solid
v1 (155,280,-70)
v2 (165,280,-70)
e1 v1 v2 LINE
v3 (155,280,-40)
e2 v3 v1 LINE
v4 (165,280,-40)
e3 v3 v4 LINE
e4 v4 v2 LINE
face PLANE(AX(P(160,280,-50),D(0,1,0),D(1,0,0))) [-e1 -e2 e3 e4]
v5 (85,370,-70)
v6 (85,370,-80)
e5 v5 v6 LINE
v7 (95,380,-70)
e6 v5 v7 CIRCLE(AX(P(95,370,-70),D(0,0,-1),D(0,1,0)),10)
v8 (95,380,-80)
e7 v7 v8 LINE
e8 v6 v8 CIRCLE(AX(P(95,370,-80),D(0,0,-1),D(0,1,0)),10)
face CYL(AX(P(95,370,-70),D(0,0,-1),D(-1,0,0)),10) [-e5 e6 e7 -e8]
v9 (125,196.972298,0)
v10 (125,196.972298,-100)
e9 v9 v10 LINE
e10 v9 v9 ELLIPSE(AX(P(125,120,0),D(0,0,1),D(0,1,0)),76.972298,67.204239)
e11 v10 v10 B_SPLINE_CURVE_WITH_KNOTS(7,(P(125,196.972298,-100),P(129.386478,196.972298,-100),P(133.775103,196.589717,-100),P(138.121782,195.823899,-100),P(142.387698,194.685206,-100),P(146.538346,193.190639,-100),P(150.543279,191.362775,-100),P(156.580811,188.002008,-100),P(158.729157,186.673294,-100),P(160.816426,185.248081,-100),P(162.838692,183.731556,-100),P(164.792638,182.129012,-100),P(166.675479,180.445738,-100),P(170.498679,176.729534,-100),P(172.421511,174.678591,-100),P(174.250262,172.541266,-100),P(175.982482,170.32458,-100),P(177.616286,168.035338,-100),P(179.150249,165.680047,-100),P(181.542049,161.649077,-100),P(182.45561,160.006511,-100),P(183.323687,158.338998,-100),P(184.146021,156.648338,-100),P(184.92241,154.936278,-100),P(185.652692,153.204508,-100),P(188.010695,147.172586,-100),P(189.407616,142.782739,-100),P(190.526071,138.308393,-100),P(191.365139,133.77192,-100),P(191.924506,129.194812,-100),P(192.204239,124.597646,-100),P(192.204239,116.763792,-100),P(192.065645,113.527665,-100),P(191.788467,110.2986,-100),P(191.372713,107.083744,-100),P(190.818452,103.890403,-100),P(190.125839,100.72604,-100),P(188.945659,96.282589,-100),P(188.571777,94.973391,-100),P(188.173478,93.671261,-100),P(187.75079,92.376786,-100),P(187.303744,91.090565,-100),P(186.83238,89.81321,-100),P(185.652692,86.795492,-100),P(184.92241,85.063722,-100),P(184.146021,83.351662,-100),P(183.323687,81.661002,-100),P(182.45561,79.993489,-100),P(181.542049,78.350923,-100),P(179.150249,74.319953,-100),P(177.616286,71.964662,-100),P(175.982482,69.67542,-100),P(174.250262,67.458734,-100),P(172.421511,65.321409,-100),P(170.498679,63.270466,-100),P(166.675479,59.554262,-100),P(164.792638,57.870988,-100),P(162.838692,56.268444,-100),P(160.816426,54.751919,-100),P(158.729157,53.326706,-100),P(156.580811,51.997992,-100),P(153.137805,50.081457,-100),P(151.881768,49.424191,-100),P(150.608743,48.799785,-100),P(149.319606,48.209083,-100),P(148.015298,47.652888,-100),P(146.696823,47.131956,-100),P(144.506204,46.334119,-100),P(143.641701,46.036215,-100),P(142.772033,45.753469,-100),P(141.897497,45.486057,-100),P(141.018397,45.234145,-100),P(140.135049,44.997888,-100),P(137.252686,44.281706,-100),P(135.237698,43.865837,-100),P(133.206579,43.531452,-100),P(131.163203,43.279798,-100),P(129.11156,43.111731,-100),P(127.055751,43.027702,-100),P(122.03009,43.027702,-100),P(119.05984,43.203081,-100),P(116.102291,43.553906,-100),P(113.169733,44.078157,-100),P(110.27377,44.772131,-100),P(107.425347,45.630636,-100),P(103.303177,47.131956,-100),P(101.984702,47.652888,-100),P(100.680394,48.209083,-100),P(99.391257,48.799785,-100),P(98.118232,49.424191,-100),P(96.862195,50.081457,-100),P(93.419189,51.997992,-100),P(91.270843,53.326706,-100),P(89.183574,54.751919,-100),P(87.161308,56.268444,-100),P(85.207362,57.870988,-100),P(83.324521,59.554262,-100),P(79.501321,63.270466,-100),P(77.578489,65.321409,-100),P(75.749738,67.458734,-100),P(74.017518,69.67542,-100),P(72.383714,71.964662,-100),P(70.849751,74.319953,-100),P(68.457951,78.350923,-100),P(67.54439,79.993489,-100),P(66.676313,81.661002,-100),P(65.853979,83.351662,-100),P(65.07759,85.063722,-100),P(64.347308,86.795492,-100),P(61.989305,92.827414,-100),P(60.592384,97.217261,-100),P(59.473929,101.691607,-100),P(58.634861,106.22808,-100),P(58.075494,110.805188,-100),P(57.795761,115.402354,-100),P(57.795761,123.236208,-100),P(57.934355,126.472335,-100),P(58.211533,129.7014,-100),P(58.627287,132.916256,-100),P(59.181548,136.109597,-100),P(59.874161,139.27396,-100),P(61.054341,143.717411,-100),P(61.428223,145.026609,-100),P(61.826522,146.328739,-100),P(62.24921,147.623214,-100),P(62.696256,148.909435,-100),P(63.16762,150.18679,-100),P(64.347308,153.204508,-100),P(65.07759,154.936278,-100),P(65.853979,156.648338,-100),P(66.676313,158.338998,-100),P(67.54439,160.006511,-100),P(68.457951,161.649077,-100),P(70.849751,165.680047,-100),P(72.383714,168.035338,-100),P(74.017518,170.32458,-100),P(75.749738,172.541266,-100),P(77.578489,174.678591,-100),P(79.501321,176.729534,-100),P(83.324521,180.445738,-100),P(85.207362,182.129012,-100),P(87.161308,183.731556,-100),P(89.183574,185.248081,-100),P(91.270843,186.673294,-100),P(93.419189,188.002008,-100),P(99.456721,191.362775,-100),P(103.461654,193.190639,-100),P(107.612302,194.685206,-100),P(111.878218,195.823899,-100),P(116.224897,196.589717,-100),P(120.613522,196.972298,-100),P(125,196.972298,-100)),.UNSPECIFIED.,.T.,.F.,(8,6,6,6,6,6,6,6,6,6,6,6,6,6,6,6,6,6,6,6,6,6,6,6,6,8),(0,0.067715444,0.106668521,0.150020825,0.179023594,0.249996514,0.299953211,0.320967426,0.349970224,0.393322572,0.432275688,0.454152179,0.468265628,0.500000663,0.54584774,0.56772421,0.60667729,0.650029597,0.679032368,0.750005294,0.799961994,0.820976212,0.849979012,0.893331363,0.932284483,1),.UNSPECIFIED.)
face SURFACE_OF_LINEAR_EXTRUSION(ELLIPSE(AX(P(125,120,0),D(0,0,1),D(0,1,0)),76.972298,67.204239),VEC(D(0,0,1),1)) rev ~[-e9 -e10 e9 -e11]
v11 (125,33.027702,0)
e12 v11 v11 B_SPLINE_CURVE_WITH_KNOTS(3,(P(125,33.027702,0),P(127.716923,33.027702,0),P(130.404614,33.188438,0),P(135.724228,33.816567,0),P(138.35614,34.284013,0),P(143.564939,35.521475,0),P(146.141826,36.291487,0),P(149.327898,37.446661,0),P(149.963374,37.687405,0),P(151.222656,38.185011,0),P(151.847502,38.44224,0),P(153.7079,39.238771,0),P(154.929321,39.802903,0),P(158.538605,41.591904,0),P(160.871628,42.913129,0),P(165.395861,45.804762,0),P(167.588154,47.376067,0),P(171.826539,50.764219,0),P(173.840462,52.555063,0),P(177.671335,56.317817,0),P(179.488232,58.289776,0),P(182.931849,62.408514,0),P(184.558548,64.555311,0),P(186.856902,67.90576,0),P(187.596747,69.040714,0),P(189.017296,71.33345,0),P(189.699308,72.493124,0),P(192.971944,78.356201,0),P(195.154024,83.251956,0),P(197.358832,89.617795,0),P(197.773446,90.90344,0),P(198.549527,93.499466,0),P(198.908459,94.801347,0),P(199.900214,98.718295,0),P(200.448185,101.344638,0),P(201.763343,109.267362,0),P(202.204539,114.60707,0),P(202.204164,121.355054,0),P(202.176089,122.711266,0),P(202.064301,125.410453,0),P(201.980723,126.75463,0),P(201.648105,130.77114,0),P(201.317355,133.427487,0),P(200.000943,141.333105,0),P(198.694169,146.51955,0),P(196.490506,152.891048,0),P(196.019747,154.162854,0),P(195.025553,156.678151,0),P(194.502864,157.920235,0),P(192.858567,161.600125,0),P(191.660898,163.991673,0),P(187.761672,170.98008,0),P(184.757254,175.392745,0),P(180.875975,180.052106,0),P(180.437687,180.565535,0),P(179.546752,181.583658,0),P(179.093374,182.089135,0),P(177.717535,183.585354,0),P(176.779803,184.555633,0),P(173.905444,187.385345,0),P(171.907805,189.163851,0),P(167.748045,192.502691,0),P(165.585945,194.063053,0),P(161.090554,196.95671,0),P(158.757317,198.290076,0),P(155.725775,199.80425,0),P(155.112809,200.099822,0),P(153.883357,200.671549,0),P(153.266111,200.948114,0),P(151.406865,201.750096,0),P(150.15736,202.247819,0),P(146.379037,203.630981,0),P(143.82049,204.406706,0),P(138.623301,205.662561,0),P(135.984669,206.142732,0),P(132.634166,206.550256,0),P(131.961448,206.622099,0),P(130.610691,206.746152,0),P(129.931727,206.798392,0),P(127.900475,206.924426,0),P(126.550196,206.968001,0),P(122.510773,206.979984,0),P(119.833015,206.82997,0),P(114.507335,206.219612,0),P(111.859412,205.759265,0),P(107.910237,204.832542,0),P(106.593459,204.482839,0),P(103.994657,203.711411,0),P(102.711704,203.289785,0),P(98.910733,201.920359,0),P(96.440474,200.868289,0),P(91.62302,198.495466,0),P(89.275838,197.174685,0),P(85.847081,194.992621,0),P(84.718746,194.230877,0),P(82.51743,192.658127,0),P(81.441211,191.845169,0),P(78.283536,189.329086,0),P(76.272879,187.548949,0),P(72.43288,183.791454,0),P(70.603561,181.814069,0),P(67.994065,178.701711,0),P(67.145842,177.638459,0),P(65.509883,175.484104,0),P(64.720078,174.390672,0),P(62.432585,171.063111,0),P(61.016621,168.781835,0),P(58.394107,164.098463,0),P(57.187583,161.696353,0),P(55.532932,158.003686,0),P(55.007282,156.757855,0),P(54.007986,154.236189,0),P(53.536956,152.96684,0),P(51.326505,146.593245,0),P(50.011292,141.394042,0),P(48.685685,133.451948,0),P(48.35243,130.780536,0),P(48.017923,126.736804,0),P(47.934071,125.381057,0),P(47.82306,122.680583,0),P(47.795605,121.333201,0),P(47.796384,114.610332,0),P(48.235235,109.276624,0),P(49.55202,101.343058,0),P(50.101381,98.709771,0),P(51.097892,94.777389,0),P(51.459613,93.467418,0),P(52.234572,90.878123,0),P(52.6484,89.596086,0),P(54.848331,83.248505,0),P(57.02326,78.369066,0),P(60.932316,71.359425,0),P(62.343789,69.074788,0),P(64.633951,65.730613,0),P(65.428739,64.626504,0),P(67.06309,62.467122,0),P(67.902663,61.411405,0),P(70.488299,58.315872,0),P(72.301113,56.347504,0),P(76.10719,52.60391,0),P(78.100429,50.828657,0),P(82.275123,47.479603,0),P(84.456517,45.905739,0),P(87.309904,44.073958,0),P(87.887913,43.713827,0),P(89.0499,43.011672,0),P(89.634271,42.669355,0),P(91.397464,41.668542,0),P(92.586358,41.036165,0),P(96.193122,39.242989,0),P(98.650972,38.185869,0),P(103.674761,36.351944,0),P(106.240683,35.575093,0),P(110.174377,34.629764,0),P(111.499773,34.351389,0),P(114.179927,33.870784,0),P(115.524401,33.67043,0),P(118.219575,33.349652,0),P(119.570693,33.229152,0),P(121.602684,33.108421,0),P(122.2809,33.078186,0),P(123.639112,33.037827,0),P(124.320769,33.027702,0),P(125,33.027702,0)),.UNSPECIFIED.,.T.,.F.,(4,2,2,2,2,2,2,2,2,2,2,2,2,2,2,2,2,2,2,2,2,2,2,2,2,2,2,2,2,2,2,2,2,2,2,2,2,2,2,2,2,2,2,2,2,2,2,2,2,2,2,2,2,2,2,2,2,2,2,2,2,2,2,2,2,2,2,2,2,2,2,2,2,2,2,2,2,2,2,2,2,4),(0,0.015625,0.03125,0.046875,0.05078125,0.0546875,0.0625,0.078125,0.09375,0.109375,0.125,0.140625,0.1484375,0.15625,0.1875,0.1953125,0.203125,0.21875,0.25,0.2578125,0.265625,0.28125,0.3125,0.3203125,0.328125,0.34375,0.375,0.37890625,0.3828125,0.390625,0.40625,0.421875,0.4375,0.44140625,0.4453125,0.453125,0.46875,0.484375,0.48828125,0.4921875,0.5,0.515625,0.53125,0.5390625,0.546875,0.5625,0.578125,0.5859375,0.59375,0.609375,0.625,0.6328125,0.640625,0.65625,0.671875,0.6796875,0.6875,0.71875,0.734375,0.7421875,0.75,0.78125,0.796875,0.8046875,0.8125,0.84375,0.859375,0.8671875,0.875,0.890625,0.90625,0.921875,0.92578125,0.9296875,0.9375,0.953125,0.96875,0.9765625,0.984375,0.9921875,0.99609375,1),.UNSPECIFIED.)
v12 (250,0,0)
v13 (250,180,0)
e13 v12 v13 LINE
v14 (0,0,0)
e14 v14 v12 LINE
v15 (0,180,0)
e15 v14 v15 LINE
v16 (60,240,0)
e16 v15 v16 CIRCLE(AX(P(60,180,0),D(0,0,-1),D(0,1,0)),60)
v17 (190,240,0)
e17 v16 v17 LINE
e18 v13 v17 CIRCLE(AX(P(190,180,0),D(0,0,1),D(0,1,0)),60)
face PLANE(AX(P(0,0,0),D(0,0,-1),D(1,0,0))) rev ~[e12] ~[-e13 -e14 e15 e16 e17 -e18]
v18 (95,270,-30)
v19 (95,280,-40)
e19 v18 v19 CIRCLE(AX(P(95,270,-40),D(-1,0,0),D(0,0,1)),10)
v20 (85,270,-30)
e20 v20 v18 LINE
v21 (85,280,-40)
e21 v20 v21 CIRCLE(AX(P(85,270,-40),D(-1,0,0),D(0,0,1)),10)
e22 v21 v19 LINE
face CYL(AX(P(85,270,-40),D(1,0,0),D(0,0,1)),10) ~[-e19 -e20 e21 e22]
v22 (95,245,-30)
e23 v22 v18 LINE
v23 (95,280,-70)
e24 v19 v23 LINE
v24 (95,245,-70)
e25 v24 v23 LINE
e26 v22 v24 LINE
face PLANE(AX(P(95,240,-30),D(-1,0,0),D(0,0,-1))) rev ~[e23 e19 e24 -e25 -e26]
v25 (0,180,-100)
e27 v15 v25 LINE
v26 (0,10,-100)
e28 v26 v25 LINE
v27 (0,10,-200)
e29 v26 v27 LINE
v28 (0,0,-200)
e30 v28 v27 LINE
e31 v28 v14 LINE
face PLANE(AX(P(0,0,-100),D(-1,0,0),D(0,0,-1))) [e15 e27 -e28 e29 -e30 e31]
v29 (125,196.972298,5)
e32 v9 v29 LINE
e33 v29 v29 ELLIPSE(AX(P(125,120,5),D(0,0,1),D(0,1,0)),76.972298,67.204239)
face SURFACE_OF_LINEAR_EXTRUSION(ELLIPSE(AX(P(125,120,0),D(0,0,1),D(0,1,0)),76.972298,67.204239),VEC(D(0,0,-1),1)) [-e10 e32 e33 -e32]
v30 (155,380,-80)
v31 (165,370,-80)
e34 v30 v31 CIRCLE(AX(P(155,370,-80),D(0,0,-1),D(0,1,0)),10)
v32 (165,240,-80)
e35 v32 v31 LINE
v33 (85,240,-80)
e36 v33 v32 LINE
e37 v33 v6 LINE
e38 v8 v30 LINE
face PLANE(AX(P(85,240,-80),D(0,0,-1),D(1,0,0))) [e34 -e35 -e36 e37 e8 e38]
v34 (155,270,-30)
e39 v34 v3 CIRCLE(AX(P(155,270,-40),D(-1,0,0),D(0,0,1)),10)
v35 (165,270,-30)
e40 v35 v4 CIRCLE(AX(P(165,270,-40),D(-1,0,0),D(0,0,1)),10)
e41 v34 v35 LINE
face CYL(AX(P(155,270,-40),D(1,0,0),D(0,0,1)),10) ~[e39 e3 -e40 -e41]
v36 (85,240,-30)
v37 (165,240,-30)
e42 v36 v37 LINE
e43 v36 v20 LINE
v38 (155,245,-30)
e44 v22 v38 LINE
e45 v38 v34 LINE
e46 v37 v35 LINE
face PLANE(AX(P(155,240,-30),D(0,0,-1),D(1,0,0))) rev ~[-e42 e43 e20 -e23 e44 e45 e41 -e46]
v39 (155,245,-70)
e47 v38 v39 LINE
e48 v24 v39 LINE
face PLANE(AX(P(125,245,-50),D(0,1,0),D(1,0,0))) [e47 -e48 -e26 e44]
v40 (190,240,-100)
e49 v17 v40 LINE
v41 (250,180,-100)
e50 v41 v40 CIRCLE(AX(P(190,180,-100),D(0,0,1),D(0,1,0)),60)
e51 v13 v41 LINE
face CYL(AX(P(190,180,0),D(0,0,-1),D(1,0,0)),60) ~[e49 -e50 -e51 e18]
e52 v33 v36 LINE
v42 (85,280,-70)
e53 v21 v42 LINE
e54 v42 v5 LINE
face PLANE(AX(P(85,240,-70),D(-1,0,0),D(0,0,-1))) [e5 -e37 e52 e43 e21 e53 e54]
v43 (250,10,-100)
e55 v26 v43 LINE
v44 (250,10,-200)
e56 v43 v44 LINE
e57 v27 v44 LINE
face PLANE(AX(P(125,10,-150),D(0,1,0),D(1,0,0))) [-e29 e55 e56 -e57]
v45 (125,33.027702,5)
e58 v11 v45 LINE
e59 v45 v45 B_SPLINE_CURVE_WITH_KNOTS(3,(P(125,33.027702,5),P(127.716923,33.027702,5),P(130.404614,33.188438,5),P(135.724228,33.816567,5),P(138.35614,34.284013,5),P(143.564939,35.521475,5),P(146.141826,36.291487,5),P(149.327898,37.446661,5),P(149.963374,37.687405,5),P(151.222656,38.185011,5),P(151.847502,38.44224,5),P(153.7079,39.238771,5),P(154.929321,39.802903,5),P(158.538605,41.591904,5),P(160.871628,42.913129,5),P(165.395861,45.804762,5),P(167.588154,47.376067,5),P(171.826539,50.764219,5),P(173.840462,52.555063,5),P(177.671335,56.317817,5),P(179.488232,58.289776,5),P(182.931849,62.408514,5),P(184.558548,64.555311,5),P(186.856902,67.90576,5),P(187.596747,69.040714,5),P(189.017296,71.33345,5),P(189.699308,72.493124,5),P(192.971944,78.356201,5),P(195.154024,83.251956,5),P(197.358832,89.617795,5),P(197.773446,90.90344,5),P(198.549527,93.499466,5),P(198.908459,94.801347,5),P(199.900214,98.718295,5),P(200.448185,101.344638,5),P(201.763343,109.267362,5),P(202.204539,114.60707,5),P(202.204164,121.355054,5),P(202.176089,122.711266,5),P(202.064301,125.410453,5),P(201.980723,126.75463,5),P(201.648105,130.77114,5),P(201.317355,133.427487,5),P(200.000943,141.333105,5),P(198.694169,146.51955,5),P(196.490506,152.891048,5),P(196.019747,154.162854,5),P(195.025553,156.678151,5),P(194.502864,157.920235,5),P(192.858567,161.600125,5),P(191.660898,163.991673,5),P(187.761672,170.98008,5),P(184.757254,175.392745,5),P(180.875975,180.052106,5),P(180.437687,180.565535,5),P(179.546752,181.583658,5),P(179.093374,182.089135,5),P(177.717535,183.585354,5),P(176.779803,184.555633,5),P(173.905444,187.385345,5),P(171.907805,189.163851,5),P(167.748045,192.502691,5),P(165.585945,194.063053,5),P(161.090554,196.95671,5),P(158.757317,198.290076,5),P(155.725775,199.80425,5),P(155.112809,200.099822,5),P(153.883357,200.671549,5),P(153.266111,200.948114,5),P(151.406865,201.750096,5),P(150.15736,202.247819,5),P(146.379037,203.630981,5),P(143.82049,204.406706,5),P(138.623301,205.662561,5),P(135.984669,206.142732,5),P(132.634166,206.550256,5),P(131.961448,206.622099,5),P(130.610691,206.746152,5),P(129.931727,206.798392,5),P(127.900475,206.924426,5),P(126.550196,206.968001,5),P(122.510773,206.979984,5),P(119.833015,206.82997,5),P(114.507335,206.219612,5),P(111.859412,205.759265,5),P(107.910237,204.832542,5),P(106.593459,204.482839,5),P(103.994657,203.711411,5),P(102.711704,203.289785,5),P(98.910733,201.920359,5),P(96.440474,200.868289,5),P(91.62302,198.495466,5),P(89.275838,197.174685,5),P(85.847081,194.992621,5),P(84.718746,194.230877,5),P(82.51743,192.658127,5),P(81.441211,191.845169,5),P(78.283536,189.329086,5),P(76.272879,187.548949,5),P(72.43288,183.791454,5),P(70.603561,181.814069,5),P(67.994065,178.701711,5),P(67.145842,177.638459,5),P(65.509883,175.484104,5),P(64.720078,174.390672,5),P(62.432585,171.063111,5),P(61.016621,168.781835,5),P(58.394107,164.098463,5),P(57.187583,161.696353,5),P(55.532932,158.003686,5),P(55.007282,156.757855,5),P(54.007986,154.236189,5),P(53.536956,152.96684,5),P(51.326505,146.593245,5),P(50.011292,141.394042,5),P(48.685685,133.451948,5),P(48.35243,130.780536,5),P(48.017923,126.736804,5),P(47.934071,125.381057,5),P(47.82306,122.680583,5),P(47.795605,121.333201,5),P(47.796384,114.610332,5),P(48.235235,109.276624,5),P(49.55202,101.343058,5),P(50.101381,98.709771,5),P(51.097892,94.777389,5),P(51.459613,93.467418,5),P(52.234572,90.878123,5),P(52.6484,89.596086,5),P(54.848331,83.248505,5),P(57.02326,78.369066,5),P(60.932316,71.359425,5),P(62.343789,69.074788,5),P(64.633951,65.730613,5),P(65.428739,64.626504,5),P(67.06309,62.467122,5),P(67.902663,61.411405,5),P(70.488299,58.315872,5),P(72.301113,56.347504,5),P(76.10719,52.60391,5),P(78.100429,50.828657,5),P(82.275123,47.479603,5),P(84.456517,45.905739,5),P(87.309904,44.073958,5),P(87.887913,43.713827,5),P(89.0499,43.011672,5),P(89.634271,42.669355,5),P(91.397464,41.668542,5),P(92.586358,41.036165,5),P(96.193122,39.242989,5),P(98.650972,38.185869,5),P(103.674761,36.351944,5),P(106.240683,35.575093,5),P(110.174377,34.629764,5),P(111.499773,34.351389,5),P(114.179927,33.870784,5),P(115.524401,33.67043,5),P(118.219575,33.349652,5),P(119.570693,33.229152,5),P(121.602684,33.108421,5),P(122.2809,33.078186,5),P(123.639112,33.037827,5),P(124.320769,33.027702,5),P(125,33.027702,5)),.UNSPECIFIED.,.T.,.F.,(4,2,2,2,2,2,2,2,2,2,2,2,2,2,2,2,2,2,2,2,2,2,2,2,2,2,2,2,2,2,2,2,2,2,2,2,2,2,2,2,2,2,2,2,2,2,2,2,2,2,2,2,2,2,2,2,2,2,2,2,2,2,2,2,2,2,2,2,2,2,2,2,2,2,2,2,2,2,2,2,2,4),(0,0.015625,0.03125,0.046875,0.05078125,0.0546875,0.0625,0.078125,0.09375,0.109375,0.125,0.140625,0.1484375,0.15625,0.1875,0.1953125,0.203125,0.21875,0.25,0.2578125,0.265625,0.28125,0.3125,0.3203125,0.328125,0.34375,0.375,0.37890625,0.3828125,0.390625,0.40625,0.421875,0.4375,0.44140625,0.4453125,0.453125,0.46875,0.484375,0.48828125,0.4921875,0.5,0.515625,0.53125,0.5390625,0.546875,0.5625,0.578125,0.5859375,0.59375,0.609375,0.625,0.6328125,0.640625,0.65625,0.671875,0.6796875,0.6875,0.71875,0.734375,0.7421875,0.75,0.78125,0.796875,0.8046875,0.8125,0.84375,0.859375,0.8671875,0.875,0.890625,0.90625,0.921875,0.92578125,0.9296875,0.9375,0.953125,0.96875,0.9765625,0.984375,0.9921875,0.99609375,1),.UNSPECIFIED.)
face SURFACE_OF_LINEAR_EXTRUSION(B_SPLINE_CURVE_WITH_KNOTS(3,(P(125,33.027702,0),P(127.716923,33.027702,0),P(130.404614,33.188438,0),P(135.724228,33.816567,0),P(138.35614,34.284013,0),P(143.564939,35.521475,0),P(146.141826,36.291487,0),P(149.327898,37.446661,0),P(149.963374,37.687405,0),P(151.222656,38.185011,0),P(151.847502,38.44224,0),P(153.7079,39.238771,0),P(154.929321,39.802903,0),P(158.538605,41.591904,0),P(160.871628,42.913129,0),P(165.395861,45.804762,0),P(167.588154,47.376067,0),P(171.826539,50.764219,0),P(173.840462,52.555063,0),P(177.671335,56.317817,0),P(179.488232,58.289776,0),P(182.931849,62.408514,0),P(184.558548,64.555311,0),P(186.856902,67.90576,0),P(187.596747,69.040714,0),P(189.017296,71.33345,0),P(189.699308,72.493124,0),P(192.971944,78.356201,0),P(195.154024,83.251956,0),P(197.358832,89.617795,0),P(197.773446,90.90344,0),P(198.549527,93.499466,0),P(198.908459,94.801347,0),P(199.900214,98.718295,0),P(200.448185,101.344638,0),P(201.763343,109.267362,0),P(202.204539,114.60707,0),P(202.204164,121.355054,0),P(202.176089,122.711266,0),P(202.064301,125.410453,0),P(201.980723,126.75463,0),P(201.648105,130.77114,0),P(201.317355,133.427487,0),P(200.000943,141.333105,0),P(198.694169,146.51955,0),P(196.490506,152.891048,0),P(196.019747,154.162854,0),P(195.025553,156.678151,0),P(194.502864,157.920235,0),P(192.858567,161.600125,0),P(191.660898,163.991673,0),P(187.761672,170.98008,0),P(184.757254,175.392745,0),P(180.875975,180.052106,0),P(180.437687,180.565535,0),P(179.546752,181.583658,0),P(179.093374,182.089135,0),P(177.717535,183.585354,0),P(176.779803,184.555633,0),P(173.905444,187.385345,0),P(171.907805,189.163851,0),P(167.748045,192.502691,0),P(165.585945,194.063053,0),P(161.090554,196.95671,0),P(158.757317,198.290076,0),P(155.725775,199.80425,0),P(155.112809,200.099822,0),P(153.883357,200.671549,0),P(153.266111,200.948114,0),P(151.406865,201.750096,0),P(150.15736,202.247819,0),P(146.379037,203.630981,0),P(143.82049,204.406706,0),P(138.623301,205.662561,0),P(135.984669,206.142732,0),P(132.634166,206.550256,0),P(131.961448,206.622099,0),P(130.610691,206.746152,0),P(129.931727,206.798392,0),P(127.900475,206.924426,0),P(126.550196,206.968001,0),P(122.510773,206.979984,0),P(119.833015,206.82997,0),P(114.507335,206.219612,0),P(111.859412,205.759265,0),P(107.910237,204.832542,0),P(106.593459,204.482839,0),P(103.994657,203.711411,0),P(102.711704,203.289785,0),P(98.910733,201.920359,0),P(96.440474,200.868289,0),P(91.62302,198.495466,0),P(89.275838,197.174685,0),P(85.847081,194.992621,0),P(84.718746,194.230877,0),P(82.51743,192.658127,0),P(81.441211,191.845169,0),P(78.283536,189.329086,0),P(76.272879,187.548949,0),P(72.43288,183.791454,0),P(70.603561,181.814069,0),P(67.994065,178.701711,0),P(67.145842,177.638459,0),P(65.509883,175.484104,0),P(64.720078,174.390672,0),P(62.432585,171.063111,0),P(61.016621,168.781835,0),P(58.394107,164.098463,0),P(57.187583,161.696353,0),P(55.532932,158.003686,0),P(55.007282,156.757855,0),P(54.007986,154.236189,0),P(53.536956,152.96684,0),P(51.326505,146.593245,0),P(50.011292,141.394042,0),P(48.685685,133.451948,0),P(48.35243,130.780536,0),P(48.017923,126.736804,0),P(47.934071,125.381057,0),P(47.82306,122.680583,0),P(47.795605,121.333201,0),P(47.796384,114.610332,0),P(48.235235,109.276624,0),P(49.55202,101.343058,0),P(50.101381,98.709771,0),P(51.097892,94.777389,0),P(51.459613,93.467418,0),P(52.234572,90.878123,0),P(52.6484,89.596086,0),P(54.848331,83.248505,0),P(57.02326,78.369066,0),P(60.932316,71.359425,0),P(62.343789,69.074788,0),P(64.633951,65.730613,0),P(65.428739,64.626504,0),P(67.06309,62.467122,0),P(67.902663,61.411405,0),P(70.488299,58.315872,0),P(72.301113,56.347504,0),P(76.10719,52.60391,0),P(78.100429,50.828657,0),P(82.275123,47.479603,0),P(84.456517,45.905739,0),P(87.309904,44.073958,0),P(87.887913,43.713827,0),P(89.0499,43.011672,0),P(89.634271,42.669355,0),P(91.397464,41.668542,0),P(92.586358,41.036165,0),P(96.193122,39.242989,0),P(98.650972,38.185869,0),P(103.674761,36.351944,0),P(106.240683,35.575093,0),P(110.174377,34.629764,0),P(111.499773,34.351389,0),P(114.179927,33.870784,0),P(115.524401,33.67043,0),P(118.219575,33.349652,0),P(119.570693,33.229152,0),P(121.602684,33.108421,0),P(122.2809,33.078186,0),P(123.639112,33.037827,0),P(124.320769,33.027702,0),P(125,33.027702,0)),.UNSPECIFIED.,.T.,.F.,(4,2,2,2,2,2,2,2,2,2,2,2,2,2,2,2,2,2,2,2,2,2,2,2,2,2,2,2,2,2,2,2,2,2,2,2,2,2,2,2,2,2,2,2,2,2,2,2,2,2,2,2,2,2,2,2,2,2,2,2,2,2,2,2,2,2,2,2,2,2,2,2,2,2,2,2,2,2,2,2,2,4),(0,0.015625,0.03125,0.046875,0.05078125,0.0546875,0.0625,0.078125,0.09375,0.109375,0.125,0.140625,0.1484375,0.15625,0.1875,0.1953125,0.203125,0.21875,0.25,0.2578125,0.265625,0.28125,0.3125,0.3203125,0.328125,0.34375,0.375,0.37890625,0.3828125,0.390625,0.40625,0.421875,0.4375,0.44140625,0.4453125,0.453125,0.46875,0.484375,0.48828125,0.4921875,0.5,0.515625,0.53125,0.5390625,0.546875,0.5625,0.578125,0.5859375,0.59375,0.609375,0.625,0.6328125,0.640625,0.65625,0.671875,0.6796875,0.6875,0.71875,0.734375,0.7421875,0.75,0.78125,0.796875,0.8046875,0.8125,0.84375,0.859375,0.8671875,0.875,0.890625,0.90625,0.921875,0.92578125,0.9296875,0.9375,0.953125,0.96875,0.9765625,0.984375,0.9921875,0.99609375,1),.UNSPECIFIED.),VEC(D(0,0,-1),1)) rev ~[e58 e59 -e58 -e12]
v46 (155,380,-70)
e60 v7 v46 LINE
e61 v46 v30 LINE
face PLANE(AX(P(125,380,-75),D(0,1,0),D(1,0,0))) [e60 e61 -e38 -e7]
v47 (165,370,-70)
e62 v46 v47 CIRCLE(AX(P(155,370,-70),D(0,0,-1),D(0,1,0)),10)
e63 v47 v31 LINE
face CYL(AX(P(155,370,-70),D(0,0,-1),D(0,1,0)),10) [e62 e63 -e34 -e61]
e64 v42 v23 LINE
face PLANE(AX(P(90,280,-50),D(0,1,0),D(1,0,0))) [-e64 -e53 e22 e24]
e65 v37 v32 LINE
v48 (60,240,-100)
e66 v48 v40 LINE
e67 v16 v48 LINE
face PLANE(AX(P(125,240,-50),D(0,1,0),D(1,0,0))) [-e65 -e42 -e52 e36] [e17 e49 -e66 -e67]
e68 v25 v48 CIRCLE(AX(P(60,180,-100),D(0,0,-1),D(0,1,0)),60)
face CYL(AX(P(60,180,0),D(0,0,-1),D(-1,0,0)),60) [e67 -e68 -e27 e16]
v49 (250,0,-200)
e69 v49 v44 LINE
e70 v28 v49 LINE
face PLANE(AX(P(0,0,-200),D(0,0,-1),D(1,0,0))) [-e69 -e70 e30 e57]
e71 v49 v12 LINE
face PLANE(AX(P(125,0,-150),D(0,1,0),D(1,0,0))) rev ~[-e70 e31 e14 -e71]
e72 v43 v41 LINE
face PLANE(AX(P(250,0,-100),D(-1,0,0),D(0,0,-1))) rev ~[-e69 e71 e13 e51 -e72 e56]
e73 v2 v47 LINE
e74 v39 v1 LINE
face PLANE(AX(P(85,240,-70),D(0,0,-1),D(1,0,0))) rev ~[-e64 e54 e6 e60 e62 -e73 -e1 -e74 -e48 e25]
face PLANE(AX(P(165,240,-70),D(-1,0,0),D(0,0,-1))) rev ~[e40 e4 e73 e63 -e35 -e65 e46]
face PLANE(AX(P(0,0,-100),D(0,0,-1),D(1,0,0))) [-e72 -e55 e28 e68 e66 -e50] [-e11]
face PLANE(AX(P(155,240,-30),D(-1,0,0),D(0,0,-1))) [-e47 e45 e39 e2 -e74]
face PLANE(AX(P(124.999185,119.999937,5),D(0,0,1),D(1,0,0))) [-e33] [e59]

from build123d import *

# Parameters (mm, degrees)
CROQUIS1_W              = 250
CROQUIS1_H              = 100
SALIENTE_EXTRUIR1_DEPTH = 240
CROQUIS1_3_W            = 250
CROQUIS1_3_H            = 100
SALIENTE_EXTRUIR2_DEPTH = 10
REDONDEO2_R             = 60
CROQUIS7_RX             = 76.972297538
CROQUIS7_RY             = 67.204239475
CORTAR_EXTRUIR4_DEPTH   = 143
CROQUIS8_RX             = 76.972297538
CROQUIS8_RY             = 67.204239475
SALIENTE_EXTRUIR3_DEPTH = 5
SALIENTE_EXTRUIR4_DEPTH = 140
CROQUIS10_4_W           = 60
CROQUIS10_4_H           = 40
SALIENTE_EXTRUIR5_DEPTH = 5
CROQUIS10_7_W           = 10
CROQUIS10_7_H           = 40
SALIENTE_EXTRUIR6_DEPTH = 40
REDONDEO3_R             = 10


with BuildPart() as part:
    # Croquis1 → Saliente-Extruir1 (new body)
    with BuildSketch(Plane(origin=(0, 0, 0), x_dir=(1, 0, 0), z_dir=(0, 1, 0))):
        with Locations((125, 50)):
            Rectangle(CROQUIS1_W, CROQUIS1_H)
    extrude(amount=SALIENTE_EXTRUIR1_DEPTH)

    # Croquis1<3> → Saliente-Extruir2 (add)
    with BuildSketch(Plane(origin=(0, 0, 0), x_dir=(1, 0, 0), z_dir=(0, 1, 0))):
        with Locations((125, 150)):
            Rectangle(CROQUIS1_3_W, CROQUIS1_3_H)
    extrude(amount=SALIENTE_EXTRUIR2_DEPTH)

    # Redondeo2
    redondeo2_edges = [part.edges().sort_by_distance(p)[0] for p in [
        (0, 240, -50),
        (250, 240, -50),
    ]]
    fillet(redondeo2_edges, radius=REDONDEO2_R)

    # Croquis7 → Cortar-Extruir4 (cut)
    with BuildSketch(Plane.XY):
        with Locations(Location((125, 120), (0, 0, 90))):
            Ellipse(CROQUIS7_RX, CROQUIS7_RY)
    extrude(amount=-CORTAR_EXTRUIR4_DEPTH, mode=Mode.SUBTRACT)

    # Croquis8 → Saliente-Extruir3 (add)
    with BuildSketch(Plane.XY):
        with BuildLine():
            add(Edge.make_bspline(
                [(125, 33.027702462), (127.716922997, 33.027702462), (130.404614336, 33.188438016), (135.724227666, 33.816566957), (138.356140016, 34.284013351), (143.564938997, 35.521474998), (146.141826175, 36.291487238), (149.32789788, 37.44666128), (149.963373673, 37.687404872), (151.222655871, 38.185011316), (151.847502015, 38.442239729), (153.70789977, 39.238771481), (154.929321189, 39.80290291), (158.538604748, 41.591903506), (160.871628277, 42.913129324), (165.395861295, 45.804761696), (167.58815404, 47.376066564), (171.826538699, 50.764218527), (173.840461698, 52.555062734), (177.671334874, 56.317817281), (179.488232347, 58.289776068), (182.931848653, 62.408514262), (184.558548159, 64.555311436), (186.856901598, 67.905760262), (187.596747198, 69.04071402), (189.017296342, 71.333449758), (189.6993083, 72.493124445), (192.971944449, 78.356200717), (195.154024171, 83.251956302), (197.358832322, 89.617795434), (197.773446154, 90.903439911), (198.549527035, 93.499465527), (198.90845874, 94.801347136), (199.900213511, 98.718294557), (200.448185039, 101.344637868), (201.763342829, 109.267362405), (202.204539447, 114.607070459), (202.204164292, 121.355053919), (202.176088659, 122.711265866), (202.064301478, 125.410452751), (201.980723301, 126.754629699), (201.648104971, 130.771139961), (201.317354659, 133.427486666), (200.000943496, 141.333104769), (198.694169349, 146.519550286), (196.490505918, 152.89104827), (196.019747164, 154.162853647), (195.025553036, 156.678150817), (194.502863938, 157.920234824), (192.858566532, 161.600125171), (191.660898436, 163.991673425), (187.761672007, 170.980079827), (184.75725411, 175.392744669), (180.875974654, 180.052106022), (180.437687128, 180.565534743), (179.546751621, 181.583658434), (179.09337423, 182.089135096), (177.717535309, 183.585353779), (176.779803074, 184.555633176), (173.905444326, 187.385345487), (171.907805387, 189.163850968), (167.748045081, 192.502690959), (165.585944795, 194.06305343), (161.090554052, 196.95671019), (158.757317239, 198.290075632), (155.72577479, 199.804250133), (155.112808717, 200.099822067), (153.88335661, 200.671549412), (153.266110917, 200.948114377), (151.406864587, 201.750096433), (150.157359681, 202.247819081), (146.379036893, 203.630980583), (143.820490433, 204.406706354), (138.623300542, 205.662560658), (135.98466882, 206.142732406), (132.634166248, 206.550255722), (131.96144789, 206.622099252), (130.610691005, 206.746152274), (129.93172719, 206.798392098), (127.900475049, 206.924426335), (126.55019563, 206.968001148), (122.510773219, 206.97998383), (119.833015326, 206.829969745), (114.507334656, 206.219611994), (111.859412215, 205.759264851), (107.910237087, 204.832541616), (106.593459447, 204.482838697), (103.994656921, 203.711410555), (102.711704261, 203.289784981), (98.91073308, 201.920359147), (96.440473583, 200.868288733), (91.623019608, 198.495465534), (89.275838057, 197.174684523), (85.847080779, 194.992620648), (84.71874619, 194.230876818), (82.517429794, 192.658127473), (81.441211058, 191.845169128), (78.283535549, 189.32908586), (76.27287878, 187.548949253), (72.432879578, 183.791453982), (70.603560889, 181.814069491), (67.99406522, 178.7017115), (67.145842384, 177.638458972), (65.509882594, 175.484104304), (64.72007818, 174.390671655), (62.432585129, 171.063111394), (61.016620532, 168.781834632), (58.394106502, 164.098462965), (57.187582612, 161.696353323), (55.532932124, 158.003686436), (55.007282323, 156.757854747), (54.007986074, 154.236189011), (53.536955939, 152.966840124), (51.326504906, 146.593244825), (50.011292376, 141.394042449), (48.68568488, 133.451947581), (48.35242998, 130.780535642), (48.017922664, 126.736804027), (47.934071147, 125.381056898), (47.82305979, 122.680583454), (47.7956054, 121.333200704), (47.79638432, 114.610332415), (48.235235275, 109.276623608), (49.552019564, 101.343057777), (50.101380969, 98.70977145), (51.097892129, 94.777389169), (51.459613379, 93.467418163), (52.234572443, 90.878122589), (52.64839956, 89.596085706), (54.84833069, 83.248504751), (57.023259968, 78.369066466), (60.932315801, 71.359424739), (62.343788817, 69.074787684), (64.633950857, 65.730613408), (65.428738625, 64.626504273), (67.06308957, 62.467122017), (67.902663487, 61.411404642), (70.488298836, 58.315872226), (72.301112731, 56.347504426), (76.107190252, 52.603909795), (78.100429201, 50.828656551), (82.275122661, 47.479603046), (84.456517338, 45.90573874), (87.309903664, 44.073958286), (87.887913061, 43.71382706), (89.049899878, 43.011672104), (89.634271423, 42.669355361), (91.39746439, 41.668541908), (92.5863576, 41.036165001), (96.193121975, 39.24298859), (98.65097198, 38.185868736), (103.674761223, 36.35194367), (106.240682844, 35.57509277), (110.174376905, 34.629763782), (111.499773132, 34.351388781), (114.179927084, 33.870783809), (115.524400715, 33.670430265), (118.219575281, 33.349651967), (119.570693495, 33.229152241), (121.602683565, 33.108421489), (122.280899507, 33.078186262), (123.639111575, 33.03782677), (124.320769251, 33.027702462), (125, 33.027702462)],
                knots=[0, 0, 0, 0, 0.015625, 0.015625, 0.03125, 0.03125, 0.046875, 0.046875, 0.05078125, 0.05078125, 0.0546875, 0.0546875, 0.0625, 0.0625, 0.078125, 0.078125, 0.09375, 0.09375, 0.109375, 0.109375, 0.125, 0.125, 0.140625, 0.140625, 0.1484375, 0.1484375, 0.15625, 0.15625, 0.1875, 0.1875, 0.1953125, 0.1953125, 0.203125, 0.203125, 0.21875, 0.21875, 0.25, 0.25, 0.2578125, 0.2578125, 0.265625, 0.265625, 0.28125, 0.28125, 0.3125, 0.3125, 0.3203125, 0.3203125, 0.328125, 0.328125, 0.34375, 0.34375, 0.375, 0.375, 0.37890625, 0.37890625, 0.3828125, 0.3828125, 0.390625, 0.390625, 0.40625, 0.40625, 0.421875, 0.421875, 0.4375, 0.4375, 0.44140625, 0.44140625, 0.4453125, 0.4453125, 0.453125, 0.453125, 0.46875, 0.46875, 0.484375, 0.484375, 0.48828125, 0.48828125, 0.4921875, 0.4921875, 0.5, 0.5, 0.515625, 0.515625, 0.53125, 0.53125, 0.5390625, 0.5390625, 0.546875, 0.546875, 0.5625, 0.5625, 0.578125, 0.578125, 0.5859375, 0.5859375, 0.59375, 0.59375, 0.609375, 0.609375, 0.625, 0.625, 0.6328125, 0.6328125, 0.640625, 0.640625, 0.65625, 0.65625, 0.671875, 0.671875, 0.6796875, 0.6796875, 0.6875, 0.6875, 0.71875, 0.71875, 0.734375, 0.734375, 0.7421875, 0.7421875, 0.75, 0.75, 0.78125, 0.78125, 0.796875, 0.796875, 0.8046875, 0.8046875, 0.8125, 0.8125, 0.84375, 0.84375, 0.859375, 0.859375, 0.8671875, 0.8671875, 0.875, 0.875, 0.890625, 0.890625, 0.90625, 0.90625, 0.921875, 0.921875, 0.92578125, 0.92578125, 0.9296875, 0.9296875, 0.9375, 0.9375, 0.953125, 0.953125, 0.96875, 0.96875, 0.9765625, 0.9765625, 0.984375, 0.984375, 0.9921875, 0.9921875, 0.99609375, 0.99609375, 1, 1, 1, 1], degree=3))
        make_face()
        with Locations(Location((125, 120), (0, 0, 90))):
            Ellipse(CROQUIS8_RX, CROQUIS8_RY, mode=Mode.SUBTRACT)
    extrude(amount=SALIENTE_EXTRUIR3_DEPTH)

    # Croquis10 → Saliente-Extruir4 (add)
    with BuildSketch(Plane(origin=(0, 240, 0), x_dir=(1, 0, 0), z_dir=(0, 1, 0))):
        Polygon((85, 80), (85, 70), (95, 70), (155, 70), (165, 70), (165, 80), align=None)
    extrude(amount=SALIENTE_EXTRUIR4_DEPTH)

    # Croquis10<4> → Saliente-Extruir5 (add)
    with BuildSketch(Plane(origin=(0, 240, 0), x_dir=(1, 0, 0), z_dir=(0, 1, 0))):
        with Locations((125, 50)):
            Rectangle(CROQUIS10_4_W, CROQUIS10_4_H)
    extrude(amount=SALIENTE_EXTRUIR5_DEPTH)

    # Croquis10<7> → Saliente-Extruir6 (add)
    with BuildSketch(Plane(origin=(0, 240, 0), x_dir=(1, 0, 0), z_dir=(0, 1, 0))):
        with Locations((90, 50)):
            Rectangle(CROQUIS10_7_W, CROQUIS10_7_H)
        with Locations((160, 50)):
            Rectangle(CROQUIS10_7_W, CROQUIS10_7_H)
    extrude(amount=SALIENTE_EXTRUIR6_DEPTH)

    # Redondeo3
    redondeo3_edges = [part.edges().sort_by_distance(p)[0] for p in [
        (90, 280, -30),
        (160, 280, -30),
        (85, 380, -75),
        (165, 380, -75),
    ]]
    fillet(redondeo3_edges, radius=REDONDEO3_R)


solid = part.part
